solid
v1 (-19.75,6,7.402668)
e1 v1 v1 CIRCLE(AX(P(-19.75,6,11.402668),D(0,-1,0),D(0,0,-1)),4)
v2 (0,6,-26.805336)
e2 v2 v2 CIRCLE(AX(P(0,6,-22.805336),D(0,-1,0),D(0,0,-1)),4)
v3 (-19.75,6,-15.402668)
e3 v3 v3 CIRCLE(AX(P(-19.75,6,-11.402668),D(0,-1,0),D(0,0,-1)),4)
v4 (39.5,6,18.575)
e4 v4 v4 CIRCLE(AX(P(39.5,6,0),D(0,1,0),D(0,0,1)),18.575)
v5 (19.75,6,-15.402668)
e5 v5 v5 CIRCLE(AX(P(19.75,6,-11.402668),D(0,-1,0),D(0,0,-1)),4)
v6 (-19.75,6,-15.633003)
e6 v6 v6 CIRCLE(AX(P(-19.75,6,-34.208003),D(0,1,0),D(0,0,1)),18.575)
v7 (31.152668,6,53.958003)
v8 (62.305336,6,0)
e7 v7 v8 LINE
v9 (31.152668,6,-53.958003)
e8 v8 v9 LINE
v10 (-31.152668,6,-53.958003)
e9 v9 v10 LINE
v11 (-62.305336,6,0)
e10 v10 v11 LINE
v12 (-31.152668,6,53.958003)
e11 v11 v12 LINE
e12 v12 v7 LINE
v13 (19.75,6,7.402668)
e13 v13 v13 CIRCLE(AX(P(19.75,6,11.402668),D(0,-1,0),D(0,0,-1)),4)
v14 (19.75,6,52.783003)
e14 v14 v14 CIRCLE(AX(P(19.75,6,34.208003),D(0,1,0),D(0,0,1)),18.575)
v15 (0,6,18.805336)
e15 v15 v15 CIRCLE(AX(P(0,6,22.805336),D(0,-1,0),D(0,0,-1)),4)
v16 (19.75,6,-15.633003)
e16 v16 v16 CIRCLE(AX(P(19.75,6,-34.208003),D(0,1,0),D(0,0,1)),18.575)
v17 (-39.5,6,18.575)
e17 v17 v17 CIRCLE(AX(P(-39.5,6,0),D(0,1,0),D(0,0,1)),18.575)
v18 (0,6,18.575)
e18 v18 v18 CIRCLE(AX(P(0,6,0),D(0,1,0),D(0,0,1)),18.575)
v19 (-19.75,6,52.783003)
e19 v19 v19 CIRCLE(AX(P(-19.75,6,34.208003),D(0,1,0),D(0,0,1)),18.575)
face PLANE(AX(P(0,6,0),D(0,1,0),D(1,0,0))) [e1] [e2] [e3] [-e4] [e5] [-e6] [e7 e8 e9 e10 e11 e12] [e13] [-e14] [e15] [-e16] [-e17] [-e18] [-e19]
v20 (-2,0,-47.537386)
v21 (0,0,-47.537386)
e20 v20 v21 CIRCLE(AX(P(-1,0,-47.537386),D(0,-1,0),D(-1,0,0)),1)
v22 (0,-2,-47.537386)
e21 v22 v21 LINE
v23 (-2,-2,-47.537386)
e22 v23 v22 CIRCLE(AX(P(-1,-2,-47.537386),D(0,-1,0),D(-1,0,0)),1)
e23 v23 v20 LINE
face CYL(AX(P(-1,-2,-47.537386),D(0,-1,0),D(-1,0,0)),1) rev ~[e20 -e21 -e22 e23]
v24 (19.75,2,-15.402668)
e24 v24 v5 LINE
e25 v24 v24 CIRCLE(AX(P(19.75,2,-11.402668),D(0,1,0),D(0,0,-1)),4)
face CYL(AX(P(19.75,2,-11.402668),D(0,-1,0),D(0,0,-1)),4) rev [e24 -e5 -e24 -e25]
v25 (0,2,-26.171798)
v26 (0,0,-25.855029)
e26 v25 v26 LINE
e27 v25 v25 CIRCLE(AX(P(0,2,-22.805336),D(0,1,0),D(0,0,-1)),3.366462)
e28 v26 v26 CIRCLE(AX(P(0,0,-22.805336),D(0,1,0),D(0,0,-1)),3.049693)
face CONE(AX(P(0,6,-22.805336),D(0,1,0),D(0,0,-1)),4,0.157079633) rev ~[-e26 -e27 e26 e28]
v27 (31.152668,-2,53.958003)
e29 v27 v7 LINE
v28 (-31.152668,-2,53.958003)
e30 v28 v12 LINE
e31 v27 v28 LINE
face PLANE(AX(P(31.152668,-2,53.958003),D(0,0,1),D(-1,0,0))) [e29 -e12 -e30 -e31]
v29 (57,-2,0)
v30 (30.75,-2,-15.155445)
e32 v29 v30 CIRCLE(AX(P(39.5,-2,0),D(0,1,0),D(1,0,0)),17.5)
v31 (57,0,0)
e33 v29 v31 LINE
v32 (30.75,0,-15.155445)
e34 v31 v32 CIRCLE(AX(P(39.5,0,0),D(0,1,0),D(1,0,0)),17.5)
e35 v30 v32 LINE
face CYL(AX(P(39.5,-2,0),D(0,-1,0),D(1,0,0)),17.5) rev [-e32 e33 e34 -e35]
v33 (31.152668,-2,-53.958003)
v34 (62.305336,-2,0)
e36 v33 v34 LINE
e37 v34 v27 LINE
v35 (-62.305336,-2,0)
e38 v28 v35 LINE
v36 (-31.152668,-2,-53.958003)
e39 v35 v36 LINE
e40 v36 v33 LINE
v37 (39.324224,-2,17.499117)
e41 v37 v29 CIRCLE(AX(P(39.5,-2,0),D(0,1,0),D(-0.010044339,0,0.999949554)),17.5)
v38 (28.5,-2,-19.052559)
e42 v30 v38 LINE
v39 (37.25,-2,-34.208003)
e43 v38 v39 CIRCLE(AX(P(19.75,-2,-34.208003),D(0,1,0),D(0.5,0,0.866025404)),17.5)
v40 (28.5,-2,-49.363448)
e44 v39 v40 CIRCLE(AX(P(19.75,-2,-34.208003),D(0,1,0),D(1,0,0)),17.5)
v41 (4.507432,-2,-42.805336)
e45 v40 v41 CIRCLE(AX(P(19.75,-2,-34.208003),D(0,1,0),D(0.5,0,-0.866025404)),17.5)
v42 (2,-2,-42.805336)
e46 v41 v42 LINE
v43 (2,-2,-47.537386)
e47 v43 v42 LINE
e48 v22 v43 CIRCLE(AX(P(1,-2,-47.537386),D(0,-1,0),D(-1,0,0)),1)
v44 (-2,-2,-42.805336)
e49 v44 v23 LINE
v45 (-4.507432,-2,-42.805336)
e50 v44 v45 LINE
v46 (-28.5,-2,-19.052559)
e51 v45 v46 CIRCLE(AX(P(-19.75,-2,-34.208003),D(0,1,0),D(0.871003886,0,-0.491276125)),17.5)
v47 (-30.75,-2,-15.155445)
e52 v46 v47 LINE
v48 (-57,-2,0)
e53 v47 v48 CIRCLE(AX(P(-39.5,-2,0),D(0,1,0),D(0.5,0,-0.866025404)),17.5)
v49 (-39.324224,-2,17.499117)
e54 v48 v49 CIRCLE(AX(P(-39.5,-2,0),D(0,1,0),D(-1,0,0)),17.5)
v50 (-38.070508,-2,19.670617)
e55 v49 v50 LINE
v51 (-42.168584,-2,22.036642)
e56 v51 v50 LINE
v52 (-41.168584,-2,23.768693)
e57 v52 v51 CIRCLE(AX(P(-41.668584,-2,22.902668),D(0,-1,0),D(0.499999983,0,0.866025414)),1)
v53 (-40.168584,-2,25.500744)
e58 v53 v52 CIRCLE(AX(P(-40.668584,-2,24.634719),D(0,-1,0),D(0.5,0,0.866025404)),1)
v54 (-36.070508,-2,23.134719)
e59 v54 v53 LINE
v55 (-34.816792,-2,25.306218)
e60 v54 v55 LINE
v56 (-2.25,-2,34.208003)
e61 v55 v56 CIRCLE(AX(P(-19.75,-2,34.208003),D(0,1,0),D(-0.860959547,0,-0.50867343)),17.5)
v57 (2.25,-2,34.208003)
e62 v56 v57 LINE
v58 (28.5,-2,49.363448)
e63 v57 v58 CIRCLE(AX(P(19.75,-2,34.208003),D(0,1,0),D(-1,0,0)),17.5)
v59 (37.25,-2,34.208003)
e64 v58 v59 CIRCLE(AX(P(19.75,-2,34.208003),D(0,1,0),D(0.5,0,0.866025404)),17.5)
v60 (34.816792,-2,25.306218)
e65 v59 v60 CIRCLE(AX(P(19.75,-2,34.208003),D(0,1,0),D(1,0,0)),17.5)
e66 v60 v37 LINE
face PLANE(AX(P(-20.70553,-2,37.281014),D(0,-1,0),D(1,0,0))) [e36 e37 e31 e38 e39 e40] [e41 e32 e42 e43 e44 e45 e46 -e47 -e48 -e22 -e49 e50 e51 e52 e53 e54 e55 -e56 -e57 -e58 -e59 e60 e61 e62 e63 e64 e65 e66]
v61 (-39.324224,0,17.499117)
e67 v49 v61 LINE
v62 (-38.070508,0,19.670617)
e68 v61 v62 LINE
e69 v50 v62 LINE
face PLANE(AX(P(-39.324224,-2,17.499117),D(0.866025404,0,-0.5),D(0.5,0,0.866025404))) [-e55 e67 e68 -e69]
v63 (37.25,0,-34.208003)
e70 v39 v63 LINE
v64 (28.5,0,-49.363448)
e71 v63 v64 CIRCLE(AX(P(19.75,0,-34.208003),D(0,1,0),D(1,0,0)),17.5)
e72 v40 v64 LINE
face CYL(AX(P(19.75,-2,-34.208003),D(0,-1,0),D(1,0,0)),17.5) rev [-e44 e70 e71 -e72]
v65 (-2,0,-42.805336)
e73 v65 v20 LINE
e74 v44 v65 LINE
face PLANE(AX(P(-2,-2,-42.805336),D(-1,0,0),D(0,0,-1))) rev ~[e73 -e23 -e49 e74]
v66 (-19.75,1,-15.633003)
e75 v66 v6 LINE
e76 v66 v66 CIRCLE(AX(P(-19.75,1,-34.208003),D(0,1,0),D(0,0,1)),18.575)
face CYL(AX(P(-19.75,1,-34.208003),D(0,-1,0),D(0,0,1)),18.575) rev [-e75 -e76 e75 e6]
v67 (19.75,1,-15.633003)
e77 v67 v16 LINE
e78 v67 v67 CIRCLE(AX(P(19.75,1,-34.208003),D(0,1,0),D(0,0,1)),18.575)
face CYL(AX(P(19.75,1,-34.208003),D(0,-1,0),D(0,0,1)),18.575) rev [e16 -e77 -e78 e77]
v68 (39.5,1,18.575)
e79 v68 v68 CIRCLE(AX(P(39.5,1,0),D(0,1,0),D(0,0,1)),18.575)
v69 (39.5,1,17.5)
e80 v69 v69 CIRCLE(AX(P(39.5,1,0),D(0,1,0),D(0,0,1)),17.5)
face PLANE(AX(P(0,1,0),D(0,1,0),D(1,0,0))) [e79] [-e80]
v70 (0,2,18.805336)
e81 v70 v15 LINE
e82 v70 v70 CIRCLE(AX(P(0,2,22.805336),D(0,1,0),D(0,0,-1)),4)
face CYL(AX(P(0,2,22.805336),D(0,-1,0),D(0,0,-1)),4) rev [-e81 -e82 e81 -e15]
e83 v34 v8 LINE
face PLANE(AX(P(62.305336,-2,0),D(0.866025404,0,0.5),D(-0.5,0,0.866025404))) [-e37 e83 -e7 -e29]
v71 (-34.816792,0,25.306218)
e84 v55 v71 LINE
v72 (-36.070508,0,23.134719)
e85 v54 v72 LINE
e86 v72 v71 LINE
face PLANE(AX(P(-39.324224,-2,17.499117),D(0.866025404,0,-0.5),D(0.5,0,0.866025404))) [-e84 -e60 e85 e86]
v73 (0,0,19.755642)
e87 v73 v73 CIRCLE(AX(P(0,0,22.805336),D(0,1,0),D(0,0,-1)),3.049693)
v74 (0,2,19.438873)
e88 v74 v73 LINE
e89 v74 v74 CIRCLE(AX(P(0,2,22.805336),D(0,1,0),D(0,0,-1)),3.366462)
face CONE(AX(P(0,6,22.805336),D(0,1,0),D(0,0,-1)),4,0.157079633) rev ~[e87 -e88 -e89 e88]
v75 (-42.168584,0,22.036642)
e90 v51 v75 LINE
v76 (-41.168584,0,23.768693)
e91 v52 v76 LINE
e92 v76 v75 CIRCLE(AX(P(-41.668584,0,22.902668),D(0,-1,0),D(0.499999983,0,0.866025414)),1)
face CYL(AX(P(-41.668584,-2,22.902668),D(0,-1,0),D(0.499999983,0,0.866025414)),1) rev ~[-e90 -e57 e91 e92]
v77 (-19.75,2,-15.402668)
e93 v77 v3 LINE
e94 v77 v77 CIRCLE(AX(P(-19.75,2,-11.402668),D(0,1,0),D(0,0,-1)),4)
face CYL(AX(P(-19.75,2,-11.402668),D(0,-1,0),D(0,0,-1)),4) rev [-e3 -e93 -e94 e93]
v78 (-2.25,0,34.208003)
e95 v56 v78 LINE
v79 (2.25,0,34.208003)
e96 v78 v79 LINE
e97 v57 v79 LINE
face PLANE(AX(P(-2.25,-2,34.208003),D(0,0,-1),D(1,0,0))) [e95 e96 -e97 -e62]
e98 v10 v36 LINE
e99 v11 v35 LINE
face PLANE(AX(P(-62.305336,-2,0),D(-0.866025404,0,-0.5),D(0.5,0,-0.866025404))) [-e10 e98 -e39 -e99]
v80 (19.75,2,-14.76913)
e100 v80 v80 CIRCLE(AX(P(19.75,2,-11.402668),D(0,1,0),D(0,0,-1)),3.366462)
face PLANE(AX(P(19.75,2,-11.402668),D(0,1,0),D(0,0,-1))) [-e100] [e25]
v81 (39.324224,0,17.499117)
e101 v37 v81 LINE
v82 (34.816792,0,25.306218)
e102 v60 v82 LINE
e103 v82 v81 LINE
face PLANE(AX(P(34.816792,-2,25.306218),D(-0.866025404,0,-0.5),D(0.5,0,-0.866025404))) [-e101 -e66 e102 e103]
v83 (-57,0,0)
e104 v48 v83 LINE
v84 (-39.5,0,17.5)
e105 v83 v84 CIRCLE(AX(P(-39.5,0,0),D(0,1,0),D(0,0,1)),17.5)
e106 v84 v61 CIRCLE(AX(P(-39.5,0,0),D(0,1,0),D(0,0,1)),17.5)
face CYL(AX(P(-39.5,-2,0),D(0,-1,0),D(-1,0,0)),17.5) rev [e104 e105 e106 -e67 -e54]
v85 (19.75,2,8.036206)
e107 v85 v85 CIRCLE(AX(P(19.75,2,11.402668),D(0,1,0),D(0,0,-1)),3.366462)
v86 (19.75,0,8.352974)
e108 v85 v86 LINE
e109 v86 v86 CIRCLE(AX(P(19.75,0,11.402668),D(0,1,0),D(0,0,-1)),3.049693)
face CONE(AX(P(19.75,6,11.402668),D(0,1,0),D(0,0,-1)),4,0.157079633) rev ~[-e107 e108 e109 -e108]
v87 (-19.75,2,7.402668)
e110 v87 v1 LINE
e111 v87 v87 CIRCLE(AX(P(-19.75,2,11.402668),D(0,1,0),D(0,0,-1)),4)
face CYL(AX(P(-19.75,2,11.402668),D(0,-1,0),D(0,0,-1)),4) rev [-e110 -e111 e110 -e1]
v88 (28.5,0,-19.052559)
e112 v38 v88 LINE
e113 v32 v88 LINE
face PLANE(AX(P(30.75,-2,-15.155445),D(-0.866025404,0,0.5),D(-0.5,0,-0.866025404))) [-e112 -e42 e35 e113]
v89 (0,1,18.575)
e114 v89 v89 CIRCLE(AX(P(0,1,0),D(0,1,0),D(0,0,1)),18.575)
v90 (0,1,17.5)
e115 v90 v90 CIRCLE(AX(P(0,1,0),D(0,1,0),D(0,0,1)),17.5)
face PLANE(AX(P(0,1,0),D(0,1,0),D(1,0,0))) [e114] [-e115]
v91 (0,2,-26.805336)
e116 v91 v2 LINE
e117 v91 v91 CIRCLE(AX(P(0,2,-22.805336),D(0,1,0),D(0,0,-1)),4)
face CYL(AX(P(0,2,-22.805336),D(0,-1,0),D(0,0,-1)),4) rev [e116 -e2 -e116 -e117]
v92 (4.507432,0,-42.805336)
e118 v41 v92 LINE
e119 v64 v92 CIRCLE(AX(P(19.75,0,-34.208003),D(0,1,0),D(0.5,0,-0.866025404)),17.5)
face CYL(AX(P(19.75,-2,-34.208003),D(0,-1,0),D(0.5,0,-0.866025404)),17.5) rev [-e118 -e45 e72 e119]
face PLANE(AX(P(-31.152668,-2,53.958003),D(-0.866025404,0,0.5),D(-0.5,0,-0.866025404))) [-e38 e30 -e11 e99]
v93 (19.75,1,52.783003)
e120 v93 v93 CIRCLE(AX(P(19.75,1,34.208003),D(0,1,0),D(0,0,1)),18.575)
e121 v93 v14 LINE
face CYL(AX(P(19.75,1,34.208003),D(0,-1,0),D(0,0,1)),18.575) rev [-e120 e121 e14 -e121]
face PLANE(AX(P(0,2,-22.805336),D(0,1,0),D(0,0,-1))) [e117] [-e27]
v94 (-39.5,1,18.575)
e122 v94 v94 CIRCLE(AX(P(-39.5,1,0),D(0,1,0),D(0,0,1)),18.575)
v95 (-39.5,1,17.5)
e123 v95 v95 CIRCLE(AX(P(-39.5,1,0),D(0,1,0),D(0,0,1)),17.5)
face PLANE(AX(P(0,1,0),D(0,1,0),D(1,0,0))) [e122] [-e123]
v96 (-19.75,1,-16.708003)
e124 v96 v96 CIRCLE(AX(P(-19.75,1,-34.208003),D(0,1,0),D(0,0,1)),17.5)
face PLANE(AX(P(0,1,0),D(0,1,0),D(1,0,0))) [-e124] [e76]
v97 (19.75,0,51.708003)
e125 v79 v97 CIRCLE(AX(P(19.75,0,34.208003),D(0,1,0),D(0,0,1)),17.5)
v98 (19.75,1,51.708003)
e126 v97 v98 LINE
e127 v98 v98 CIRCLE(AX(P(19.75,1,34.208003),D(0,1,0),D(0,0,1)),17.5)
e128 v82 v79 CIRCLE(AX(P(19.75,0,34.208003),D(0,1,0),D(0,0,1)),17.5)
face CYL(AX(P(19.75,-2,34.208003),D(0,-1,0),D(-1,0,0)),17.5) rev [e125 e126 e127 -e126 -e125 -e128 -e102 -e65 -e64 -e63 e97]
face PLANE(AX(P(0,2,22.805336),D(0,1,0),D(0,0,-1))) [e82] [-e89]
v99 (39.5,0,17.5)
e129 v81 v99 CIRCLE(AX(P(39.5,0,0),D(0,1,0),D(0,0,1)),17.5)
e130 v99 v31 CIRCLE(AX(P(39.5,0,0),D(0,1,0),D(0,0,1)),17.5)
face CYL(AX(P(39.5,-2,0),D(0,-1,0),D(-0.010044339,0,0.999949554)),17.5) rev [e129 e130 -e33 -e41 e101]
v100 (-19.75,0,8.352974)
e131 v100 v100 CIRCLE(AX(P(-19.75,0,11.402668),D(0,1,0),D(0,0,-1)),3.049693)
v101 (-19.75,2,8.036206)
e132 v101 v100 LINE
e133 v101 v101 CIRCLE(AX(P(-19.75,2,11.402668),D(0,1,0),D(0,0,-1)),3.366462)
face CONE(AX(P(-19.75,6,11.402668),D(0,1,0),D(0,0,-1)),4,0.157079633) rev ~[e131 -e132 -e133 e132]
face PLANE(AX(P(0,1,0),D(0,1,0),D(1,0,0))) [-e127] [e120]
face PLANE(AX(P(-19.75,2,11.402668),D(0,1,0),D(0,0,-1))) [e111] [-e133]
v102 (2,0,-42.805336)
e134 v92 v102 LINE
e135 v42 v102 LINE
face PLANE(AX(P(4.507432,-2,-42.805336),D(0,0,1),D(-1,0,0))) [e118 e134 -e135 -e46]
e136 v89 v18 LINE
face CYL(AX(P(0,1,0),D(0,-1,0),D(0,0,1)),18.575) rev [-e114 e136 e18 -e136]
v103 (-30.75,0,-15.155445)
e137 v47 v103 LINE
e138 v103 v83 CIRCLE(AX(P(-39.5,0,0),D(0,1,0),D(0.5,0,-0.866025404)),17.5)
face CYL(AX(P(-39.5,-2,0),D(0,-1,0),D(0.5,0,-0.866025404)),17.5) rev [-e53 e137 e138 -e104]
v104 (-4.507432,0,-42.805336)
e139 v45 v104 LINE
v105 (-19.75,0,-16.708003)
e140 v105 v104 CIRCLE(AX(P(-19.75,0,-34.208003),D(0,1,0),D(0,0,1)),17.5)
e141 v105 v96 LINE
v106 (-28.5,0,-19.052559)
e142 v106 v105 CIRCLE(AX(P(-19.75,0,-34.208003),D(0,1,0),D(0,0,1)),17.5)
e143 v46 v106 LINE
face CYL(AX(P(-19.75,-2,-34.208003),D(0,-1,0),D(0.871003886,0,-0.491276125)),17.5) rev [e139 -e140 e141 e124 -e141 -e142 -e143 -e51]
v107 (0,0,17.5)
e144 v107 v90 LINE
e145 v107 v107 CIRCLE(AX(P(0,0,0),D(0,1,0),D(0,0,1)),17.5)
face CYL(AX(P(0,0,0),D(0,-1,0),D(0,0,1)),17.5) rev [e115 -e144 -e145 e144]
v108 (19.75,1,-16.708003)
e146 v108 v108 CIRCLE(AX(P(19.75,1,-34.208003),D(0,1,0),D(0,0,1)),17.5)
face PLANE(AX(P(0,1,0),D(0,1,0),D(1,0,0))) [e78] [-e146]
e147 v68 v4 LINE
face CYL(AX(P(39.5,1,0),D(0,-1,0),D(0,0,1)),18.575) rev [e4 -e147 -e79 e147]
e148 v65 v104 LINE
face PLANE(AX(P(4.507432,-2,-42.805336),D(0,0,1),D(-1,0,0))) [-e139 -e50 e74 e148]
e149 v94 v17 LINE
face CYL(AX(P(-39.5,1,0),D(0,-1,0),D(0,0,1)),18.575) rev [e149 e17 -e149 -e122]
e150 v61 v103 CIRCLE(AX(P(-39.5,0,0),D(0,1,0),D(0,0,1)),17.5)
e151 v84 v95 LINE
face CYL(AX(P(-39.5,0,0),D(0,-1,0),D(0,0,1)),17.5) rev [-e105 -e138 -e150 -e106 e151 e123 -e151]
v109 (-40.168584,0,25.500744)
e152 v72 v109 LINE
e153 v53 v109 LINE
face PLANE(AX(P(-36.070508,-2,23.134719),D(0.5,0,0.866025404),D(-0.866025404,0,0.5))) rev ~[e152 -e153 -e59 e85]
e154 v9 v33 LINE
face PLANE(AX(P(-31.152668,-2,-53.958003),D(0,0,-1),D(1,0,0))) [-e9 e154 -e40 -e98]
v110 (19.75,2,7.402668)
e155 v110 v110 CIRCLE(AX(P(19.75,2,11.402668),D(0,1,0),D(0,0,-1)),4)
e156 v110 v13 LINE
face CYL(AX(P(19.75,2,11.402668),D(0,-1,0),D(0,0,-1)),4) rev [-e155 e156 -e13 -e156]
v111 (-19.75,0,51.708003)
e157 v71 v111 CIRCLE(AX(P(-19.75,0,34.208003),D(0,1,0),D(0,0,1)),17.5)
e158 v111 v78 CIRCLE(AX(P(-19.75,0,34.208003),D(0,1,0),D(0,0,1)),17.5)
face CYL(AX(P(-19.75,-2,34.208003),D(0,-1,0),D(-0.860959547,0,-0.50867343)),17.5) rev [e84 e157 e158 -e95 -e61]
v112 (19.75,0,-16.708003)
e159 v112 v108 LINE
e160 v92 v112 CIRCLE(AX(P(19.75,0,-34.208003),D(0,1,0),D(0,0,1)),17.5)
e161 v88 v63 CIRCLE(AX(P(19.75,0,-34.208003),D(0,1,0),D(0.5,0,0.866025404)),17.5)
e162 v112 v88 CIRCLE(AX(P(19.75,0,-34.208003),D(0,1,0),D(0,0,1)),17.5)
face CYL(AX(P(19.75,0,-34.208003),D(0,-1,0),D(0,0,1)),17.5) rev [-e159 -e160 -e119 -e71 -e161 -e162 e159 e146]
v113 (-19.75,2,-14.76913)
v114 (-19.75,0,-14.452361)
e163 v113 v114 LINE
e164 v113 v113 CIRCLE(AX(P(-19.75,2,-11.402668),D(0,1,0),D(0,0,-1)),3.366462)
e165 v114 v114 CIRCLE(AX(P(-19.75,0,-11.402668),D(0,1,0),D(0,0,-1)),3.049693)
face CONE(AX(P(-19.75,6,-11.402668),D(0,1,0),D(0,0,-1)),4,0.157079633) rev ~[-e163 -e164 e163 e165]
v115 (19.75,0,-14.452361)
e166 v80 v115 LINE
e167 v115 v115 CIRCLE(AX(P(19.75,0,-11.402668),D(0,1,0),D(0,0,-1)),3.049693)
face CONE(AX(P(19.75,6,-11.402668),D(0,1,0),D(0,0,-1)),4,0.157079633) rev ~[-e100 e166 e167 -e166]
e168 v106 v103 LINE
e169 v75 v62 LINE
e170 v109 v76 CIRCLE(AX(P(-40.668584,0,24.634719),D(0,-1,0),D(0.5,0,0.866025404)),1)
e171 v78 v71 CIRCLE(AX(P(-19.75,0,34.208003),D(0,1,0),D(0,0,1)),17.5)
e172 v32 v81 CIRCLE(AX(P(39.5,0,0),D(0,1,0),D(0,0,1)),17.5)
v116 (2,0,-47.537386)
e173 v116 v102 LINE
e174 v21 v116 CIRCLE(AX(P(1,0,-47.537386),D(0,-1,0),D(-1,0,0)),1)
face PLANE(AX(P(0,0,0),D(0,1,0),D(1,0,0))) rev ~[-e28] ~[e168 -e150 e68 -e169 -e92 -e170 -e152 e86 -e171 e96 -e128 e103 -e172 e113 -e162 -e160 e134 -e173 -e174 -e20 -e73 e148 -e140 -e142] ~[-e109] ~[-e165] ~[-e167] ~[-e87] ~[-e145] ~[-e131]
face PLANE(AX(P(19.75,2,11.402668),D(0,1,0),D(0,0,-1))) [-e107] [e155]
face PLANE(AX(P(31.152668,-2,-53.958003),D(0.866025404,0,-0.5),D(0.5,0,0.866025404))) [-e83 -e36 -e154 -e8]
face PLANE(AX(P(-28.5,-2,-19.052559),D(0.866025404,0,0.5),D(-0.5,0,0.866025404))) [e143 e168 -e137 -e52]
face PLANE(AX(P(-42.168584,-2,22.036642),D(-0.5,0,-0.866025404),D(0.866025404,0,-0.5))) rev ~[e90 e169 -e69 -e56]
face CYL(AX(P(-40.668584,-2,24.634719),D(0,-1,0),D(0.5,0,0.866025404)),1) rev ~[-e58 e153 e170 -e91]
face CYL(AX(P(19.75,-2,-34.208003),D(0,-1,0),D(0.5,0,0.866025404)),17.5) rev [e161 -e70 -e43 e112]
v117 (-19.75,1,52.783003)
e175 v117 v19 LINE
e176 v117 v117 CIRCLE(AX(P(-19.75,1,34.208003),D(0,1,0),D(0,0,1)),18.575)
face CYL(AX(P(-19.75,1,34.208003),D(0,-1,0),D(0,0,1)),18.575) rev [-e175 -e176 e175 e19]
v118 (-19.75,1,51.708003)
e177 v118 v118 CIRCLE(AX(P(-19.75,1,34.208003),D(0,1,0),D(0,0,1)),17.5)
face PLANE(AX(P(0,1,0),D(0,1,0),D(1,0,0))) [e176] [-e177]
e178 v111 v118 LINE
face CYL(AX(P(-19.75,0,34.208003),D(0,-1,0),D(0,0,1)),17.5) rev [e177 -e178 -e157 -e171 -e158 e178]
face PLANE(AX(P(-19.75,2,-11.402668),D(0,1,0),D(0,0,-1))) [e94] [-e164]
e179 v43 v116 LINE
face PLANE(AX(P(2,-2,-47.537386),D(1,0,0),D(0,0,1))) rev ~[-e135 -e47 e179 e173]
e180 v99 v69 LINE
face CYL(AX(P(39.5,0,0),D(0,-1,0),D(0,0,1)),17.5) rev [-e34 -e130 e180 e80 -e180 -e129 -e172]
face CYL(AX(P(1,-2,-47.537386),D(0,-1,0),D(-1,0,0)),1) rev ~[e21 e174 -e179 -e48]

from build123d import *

# Parameters (mm, degrees)
SKETCH1_R                    = 17.5
BOSS_EXTRUDE1_DEPTH          = 1
SKETCH2_R                    = 18.575
BOSS_EXTRUDE2_DEPTH          = 5
CUT_EXTRUDE1_DEPTH           = 83.640310894
CUT_EXTRUDE1_DEPTH_BACK      = 4
SKETCH3_R                    = 4
SKETCH3_2_R                  = 4
CUT_EXTRUDE2_DEPTH           = 83.640310894
CUT_EXTRUDE2_DRAFT           = -9
CUT_EXTRUDE2_PROFILE_2_DEPTH = 83.640310894
CUT_EXTRUDE2_PROFILE_2_DRAFT = -9
CUT_EXTRUDE2_PROFILE_3_DEPTH = 83.640310894
CUT_EXTRUDE2_PROFILE_3_DRAFT = -9
CUT_EXTRUDE2_PROFILE_4_DEPTH = 83.640310894
CUT_EXTRUDE2_PROFILE_4_DRAFT = -9
CUT_EXTRUDE2_PROFILE_5_DEPTH = 83.640310894
CUT_EXTRUDE2_PROFILE_5_DRAFT = -9
CUT_EXTRUDE2_PROFILE_6_DEPTH = 83.640310894
CUT_EXTRUDE2_PROFILE_6_DRAFT = -9
BOSS_EXTRUDE3_START          = 2
BOSS_EXTRUDE3_DEPTH          = 2
CUT_EXTRUDE5_DEPTH           = 2


with BuildPart() as part:
    # Sketch1 → Boss-Extrude1 (new body)
    with BuildSketch(Plane(origin=(0, 0, 0), x_dir=(1, 0, 0), z_dir=(0, 1, 0))):
        Polygon((-31.152667816, -53.958003449), (31.152667816, -53.958003449), (62.305335633, 0), (31.152667816, 53.958003449), (-31.152667816, 53.958003449), (-62.305335633, 0), align=None)
        with Locations(Location((-39.5, 0, 0), (0, 0, 270))):
            Circle(SKETCH1_R, mode=Mode.SUBTRACT)
        with Locations(Location((-19.75, -34.208003449, 0), (0, 0, 270))):
            Circle(SKETCH1_R, mode=Mode.SUBTRACT)
        with Locations(Location((19.75, -34.208003449, 0), (0, 0, 270))):
            Circle(SKETCH1_R, mode=Mode.SUBTRACT)
        with Locations(Location((39.5, 0, 0), (0, 0, 270))):
            Circle(SKETCH1_R, mode=Mode.SUBTRACT)
        with Locations(Location((19.75, 34.208003449, 0), (0, 0, 270))):
            Circle(SKETCH1_R, mode=Mode.SUBTRACT)
        with Locations(Location((-19.75, 34.208003449, 0), (0, 0, 270))):
            Circle(SKETCH1_R, mode=Mode.SUBTRACT)
        with Locations(Location((0, 0, 0), (0, 0, 270))):
            Circle(SKETCH1_R, mode=Mode.SUBTRACT)
    extrude(amount=BOSS_EXTRUDE1_DEPTH)

    # Sketch2 → Boss-Extrude2 (add)
    with BuildSketch(Plane(origin=(0, 1, 0), x_dir=(1, 0, 0), z_dir=(0, 1, 0))):
        Polygon((62.305335633, 0), (31.152667816, 53.958003449), (-31.152667816, 53.958003449), (-62.305335633, 0), (-31.152667816, -53.958003449), (31.152667816, -53.958003449), align=None)
        with Locations(Location((-39.5, 0, 0), (0, 0, 270))):
            Circle(SKETCH2_R, mode=Mode.SUBTRACT)
        with Locations(Location((-19.75, 34.208003449, 0), (0, 0, 270))):
            Circle(SKETCH2_R, mode=Mode.SUBTRACT)
        with Locations(Location((19.75, 34.208003449, 0), (0, 0, 270))):
            Circle(SKETCH2_R, mode=Mode.SUBTRACT)
        with Locations(Location((0, 0, 0), (0, 0, 270))):
            Circle(SKETCH2_R, mode=Mode.SUBTRACT)
        with Locations(Location((39.5, 0, 0), (0, 0, 270))):
            Circle(SKETCH2_R, mode=Mode.SUBTRACT)
        with Locations(Location((19.75, -34.208003449, 0), (0, 0, 270))):
            Circle(SKETCH2_R, mode=Mode.SUBTRACT)
        with Locations(Location((-19.75, -34.208003449, 0), (0, 0, 270))):
            Circle(SKETCH2_R, mode=Mode.SUBTRACT)
    extrude(amount=BOSS_EXTRUDE2_DEPTH)

    # Sketch3 → Cut-Extrude1 (cut, two sides: drawn at the far end of the back side and taken through both)
    with BuildSketch(Plane(origin=(0, 6, 0), x_dir=(1, 0, 0), z_dir=(0, 1, 0)).offset(-CUT_EXTRUDE1_DEPTH_BACK)):
        with Locations(Location((-19.75, 11.402667816, 0), (0, 0, 90))):
            Circle(SKETCH3_R)
        with Locations(Location((19.75, 11.402667816, 0), (0, 0, 90))):
            Circle(SKETCH3_R)
        with Locations(Location((0, -22.805335633, 0), (0, 0, 90))):
            Circle(SKETCH3_R)
        with Locations(Location((-19.75, -11.402667816, 0), (0, 0, 90))):
            Circle(SKETCH3_R)
        with Locations(Location((19.75, -11.402667816, 0), (0, 0, 90))):
            Circle(SKETCH3_R)
        with Locations(Location((0, 22.805335633, 0), (0, 0, 90))):
            Circle(SKETCH3_R)
    extrude(amount=CUT_EXTRUDE1_DEPTH + CUT_EXTRUDE1_DEPTH_BACK, mode=Mode.SUBTRACT)


with BuildPart() as cut_extrude2_tool:
    # Sketch3<2> → Cut-Extrude2 (with draft: the straight prism first)
    with BuildSketch(Plane(origin=(0, 6, 0), x_dir=(1, 0, 0), z_dir=(0, 1, 0))):
        with Locations(Location((-19.75, 11.402667816, 0), (0, 0, 90))):
            Circle(SKETCH3_2_R)
    extrude(amount=-CUT_EXTRUDE2_DEPTH)
    # Cut-Extrude2: the draft: its side faces are tilted about the plane it starts from
    cut_extrude2_sides = [cut_extrude2_tool.faces().sort_by_distance(p)[0] for p in [
        (-19.75, -35.820155447, -7.402667816),
    ]]
    draft(cut_extrude2_sides, Plane(origin=(0, 6, 0), x_dir=(1, 0, 0), z_dir=(0, 1, 0)), CUT_EXTRUDE2_DRAFT)


with BuildPart() as part_1:
    add(part.part)

    # Cut-Extrude2: cut by cut_extrude2_tool
    add(cut_extrude2_tool.part, mode=Mode.SUBTRACT)


with BuildPart() as cut_extrude2_profile_2_tool:
    # Sketch3<2> → Cut-Extrude2 profile 2 (with draft: the straight prism first)
    with BuildSketch(Plane(origin=(0, 6, 0), x_dir=(1, 0, 0), z_dir=(0, 1, 0))):
        with Locations(Location((19.75, 11.402667816, 0), (0, 0, 90))):
            Circle(SKETCH3_2_R)
    extrude(amount=-CUT_EXTRUDE2_PROFILE_2_DEPTH)
    # Cut-Extrude2 profile 2: the draft: its side faces are tilted about the plane it starts from
    cut_extrude2_profile_2_sides = [cut_extrude2_profile_2_tool.faces().sort_by_distance(p)[0] for p in [
        (19.75, -35.820155447, -7.402667816),
    ]]
    draft(cut_extrude2_profile_2_sides, Plane(origin=(0, 6, 0), x_dir=(1, 0, 0), z_dir=(0, 1, 0)), CUT_EXTRUDE2_PROFILE_2_DRAFT)


with BuildPart() as part_2:
    add(part_1.part)

    # Cut-Extrude2 profile 2: cut by cut_extrude2_profile_2_tool
    add(cut_extrude2_profile_2_tool.part, mode=Mode.SUBTRACT)


with BuildPart() as cut_extrude2_profile_3_tool:
    # Sketch3<2> → Cut-Extrude2 profile 3 (with draft: the straight prism first)
    with BuildSketch(Plane(origin=(0, 6, 0), x_dir=(1, 0, 0), z_dir=(0, 1, 0))):
        with Locations(Location((0, -22.805335633, 0), (0, 0, 90))):
            Circle(SKETCH3_2_R)
    extrude(amount=-CUT_EXTRUDE2_PROFILE_3_DEPTH)
    # Cut-Extrude2 profile 3: the draft: its side faces are tilted about the plane it starts from
    cut_extrude2_profile_3_sides = [cut_extrude2_profile_3_tool.faces().sort_by_distance(p)[0] for p in [
        (0, -35.820155447, 26.805335633),
    ]]
    draft(cut_extrude2_profile_3_sides, Plane(origin=(0, 6, 0), x_dir=(1, 0, 0), z_dir=(0, 1, 0)), CUT_EXTRUDE2_PROFILE_3_DRAFT)


with BuildPart() as part_3:
    add(part_2.part)

    # Cut-Extrude2 profile 3: cut by cut_extrude2_profile_3_tool
    add(cut_extrude2_profile_3_tool.part, mode=Mode.SUBTRACT)


with BuildPart() as cut_extrude2_profile_4_tool:
    # Sketch3<2> → Cut-Extrude2 profile 4 (with draft: the straight prism first)
    with BuildSketch(Plane(origin=(0, 6, 0), x_dir=(1, 0, 0), z_dir=(0, 1, 0))):
        with Locations(Location((-19.75, -11.402667816, 0), (0, 0, 90))):
            Circle(SKETCH3_2_R)
    extrude(amount=-CUT_EXTRUDE2_PROFILE_4_DEPTH)
    # Cut-Extrude2 profile 4: the draft: its side faces are tilted about the plane it starts from
    cut_extrude2_profile_4_sides = [cut_extrude2_profile_4_tool.faces().sort_by_distance(p)[0] for p in [
        (-19.75, -35.820155447, 15.402667816),
    ]]
    draft(cut_extrude2_profile_4_sides, Plane(origin=(0, 6, 0), x_dir=(1, 0, 0), z_dir=(0, 1, 0)), CUT_EXTRUDE2_PROFILE_4_DRAFT)


with BuildPart() as part_4:
    add(part_3.part)

    # Cut-Extrude2 profile 4: cut by cut_extrude2_profile_4_tool
    add(cut_extrude2_profile_4_tool.part, mode=Mode.SUBTRACT)


with BuildPart() as cut_extrude2_profile_5_tool:
    # Sketch3<2> → Cut-Extrude2 profile 5 (with draft: the straight prism first)
    with BuildSketch(Plane(origin=(0, 6, 0), x_dir=(1, 0, 0), z_dir=(0, 1, 0))):
        with Locations(Location((19.75, -11.402667816, 0), (0, 0, 90))):
            Circle(SKETCH3_2_R)
    extrude(amount=-CUT_EXTRUDE2_PROFILE_5_DEPTH)
    # Cut-Extrude2 profile 5: the draft: its side faces are tilted about the plane it starts from
    cut_extrude2_profile_5_sides = [cut_extrude2_profile_5_tool.faces().sort_by_distance(p)[0] for p in [
        (19.75, -35.820155447, 15.402667816),
    ]]
    draft(cut_extrude2_profile_5_sides, Plane(origin=(0, 6, 0), x_dir=(1, 0, 0), z_dir=(0, 1, 0)), CUT_EXTRUDE2_PROFILE_5_DRAFT)


with BuildPart() as part_5:
    add(part_4.part)

    # Cut-Extrude2 profile 5: cut by cut_extrude2_profile_5_tool
    add(cut_extrude2_profile_5_tool.part, mode=Mode.SUBTRACT)


with BuildPart() as cut_extrude2_profile_6_tool:
    # Sketch3<2> → Cut-Extrude2 profile 6 (with draft: the straight prism first)
    with BuildSketch(Plane(origin=(0, 6, 0), x_dir=(1, 0, 0), z_dir=(0, 1, 0))):
        with Locations(Location((0, 22.805335633, 0), (0, 0, 90))):
            Circle(SKETCH3_2_R)
    extrude(amount=-CUT_EXTRUDE2_PROFILE_6_DEPTH)
    # Cut-Extrude2 profile 6: the draft: its side faces are tilted about the plane it starts from
    cut_extrude2_profile_6_sides = [cut_extrude2_profile_6_tool.faces().sort_by_distance(p)[0] for p in [
        (0, -35.820155447, -18.805335633),
    ]]
    draft(cut_extrude2_profile_6_sides, Plane(origin=(0, 6, 0), x_dir=(1, 0, 0), z_dir=(0, 1, 0)), CUT_EXTRUDE2_PROFILE_6_DRAFT)


with BuildPart() as part_6:
    add(part_5.part)

    # Cut-Extrude2 profile 6: cut by cut_extrude2_profile_6_tool
    add(cut_extrude2_profile_6_tool.part, mode=Mode.SUBTRACT)

    # Sketch5 → Boss-Extrude3 (add)
    with BuildSketch(Plane.XZ.offset(BOSS_EXTRUDE3_START)):
        with BuildLine():
            Line((-31.152667816, 53.958003449), (-62.305335633, 0))
            Line((-62.305335633, 0), (-57, 0))
            ThreePointArc((-57, 0), (-51.812065653, 12.43635957), (-39.324224074, 17.499117201))
            Line((-39.324224074, 17.499117201), (-34.816792077, 25.306218432))
            ThreePointArc((-34.816792077, 25.306218432), (-24.364170491, 51.088744863), (-2.25, 34.208003449))
            Line((-2.25, 34.208003449), (2.25, 34.208003449))
            ThreePointArc((2.25, 34.208003449), (11, 49.363448016), (28.5, 49.363448016))
            Line((28.5, 49.363448016), (31.152667816, 53.958003449))
            Line((31.152667816, 53.958003449), (-31.152667816, 53.958003449))
        make_face()
        with BuildLine():
            Line((-57, 0), (-62.305335633, 0))
            Line((-62.305335633, 0), (-31.152667816, -53.958003449))
            Line((-31.152667816, -53.958003449), (31.152667816, -53.958003449))
            Line((31.152667816, -53.958003449), (28.5, -49.363448016))
            ThreePointArc((28.5, -49.363448016), (15.135829509, -51.088744863), (4.507431997, -42.805335633))
            Line((4.507431997, -42.805335633), (-4.507431997, -42.805335633))
            ThreePointArc((-4.507431997, -42.805335633), (-32.062065653, -46.644363019), (-28.5, -19.052558883))
            Line((-28.5, -19.052558883), (-30.75, -15.155444566))
            ThreePointArc((-30.75, -15.155444566), (-48.25, -15.155444566), (-57, 0))
        make_face()
        with BuildLine():
            Line((28.5, -49.363448016), (31.152667816, -53.958003449))
            Line((31.152667816, -53.958003449), (62.305335633, 0))
            Line((62.305335633, 0), (31.152667816, 53.958003449))
            Line((31.152667816, 53.958003449), (28.5, 49.363448016))
            ThreePointArc((28.5, 49.363448016), (34.905444566, 42.958003449), (37.25, 34.208003449))
            ThreePointArc((37.25, 34.208003449), (36.630741414, 29.593832958), (34.816792077, 25.306218432))
            Line((34.816792077, 25.306218432), (39.324224074, 17.499117201))
            ThreePointArc((39.324224074, 17.499117201), (51.812065653, 12.43635957), (57, 0))
            ThreePointArc((57, 0), (48.25, -15.155444566), (30.75, -15.155444566))
            Line((30.75, -15.155444566), (28.5, -19.052558883))
            ThreePointArc((28.5, -19.052558883), (34.905444566, -25.458003449), (37.25, -34.208003449))
            ThreePointArc((37.25, -34.208003449), (34.905444566, -42.958003449), (28.5, -49.363448016))
        make_face()
    extrude(amount=-BOSS_EXTRUDE3_DEPTH)

    # Sketch6 → Cut-Extrude5 (cut)
    with BuildSketch(Plane.XZ.offset(2)):
        with BuildLine():
            ThreePointArc((-2, -47.537386441), (-1, -48.537386441), (0, -47.537386441))
            ThreePointArc((0, -47.537386441), (1, -48.537386441), (2, -47.537386441))
            Line((2, -47.537386441), (2, -42.805335633))
            Line((2, -42.805335633), (-2, -42.805335633))
            Line((-2, -42.805335633), (-2, -47.537386441))
        make_face()
        with BuildLine():
            ThreePointArc((-40.168584287, 25.500744028), (-41.534609686, 25.134718633), (-41.168584305, 23.76869323))
            ThreePointArc((-41.168584305, 23.76869323), (-42.534609696, 23.402667808), (-42.168584287, 22.036642413))
            Line((-42.168584287, 22.036642413), (-38.070508076, 19.670617009))
            Line((-38.070508076, 19.670617009), (-36.070508076, 23.134718624))
            Line((-36.070508076, 23.134718624), (-40.168584287, 25.500744028))
        make_face()
    extrude(amount=-CUT_EXTRUDE5_DEPTH, mode=Mode.SUBTRACT)


solid = part_6.part
